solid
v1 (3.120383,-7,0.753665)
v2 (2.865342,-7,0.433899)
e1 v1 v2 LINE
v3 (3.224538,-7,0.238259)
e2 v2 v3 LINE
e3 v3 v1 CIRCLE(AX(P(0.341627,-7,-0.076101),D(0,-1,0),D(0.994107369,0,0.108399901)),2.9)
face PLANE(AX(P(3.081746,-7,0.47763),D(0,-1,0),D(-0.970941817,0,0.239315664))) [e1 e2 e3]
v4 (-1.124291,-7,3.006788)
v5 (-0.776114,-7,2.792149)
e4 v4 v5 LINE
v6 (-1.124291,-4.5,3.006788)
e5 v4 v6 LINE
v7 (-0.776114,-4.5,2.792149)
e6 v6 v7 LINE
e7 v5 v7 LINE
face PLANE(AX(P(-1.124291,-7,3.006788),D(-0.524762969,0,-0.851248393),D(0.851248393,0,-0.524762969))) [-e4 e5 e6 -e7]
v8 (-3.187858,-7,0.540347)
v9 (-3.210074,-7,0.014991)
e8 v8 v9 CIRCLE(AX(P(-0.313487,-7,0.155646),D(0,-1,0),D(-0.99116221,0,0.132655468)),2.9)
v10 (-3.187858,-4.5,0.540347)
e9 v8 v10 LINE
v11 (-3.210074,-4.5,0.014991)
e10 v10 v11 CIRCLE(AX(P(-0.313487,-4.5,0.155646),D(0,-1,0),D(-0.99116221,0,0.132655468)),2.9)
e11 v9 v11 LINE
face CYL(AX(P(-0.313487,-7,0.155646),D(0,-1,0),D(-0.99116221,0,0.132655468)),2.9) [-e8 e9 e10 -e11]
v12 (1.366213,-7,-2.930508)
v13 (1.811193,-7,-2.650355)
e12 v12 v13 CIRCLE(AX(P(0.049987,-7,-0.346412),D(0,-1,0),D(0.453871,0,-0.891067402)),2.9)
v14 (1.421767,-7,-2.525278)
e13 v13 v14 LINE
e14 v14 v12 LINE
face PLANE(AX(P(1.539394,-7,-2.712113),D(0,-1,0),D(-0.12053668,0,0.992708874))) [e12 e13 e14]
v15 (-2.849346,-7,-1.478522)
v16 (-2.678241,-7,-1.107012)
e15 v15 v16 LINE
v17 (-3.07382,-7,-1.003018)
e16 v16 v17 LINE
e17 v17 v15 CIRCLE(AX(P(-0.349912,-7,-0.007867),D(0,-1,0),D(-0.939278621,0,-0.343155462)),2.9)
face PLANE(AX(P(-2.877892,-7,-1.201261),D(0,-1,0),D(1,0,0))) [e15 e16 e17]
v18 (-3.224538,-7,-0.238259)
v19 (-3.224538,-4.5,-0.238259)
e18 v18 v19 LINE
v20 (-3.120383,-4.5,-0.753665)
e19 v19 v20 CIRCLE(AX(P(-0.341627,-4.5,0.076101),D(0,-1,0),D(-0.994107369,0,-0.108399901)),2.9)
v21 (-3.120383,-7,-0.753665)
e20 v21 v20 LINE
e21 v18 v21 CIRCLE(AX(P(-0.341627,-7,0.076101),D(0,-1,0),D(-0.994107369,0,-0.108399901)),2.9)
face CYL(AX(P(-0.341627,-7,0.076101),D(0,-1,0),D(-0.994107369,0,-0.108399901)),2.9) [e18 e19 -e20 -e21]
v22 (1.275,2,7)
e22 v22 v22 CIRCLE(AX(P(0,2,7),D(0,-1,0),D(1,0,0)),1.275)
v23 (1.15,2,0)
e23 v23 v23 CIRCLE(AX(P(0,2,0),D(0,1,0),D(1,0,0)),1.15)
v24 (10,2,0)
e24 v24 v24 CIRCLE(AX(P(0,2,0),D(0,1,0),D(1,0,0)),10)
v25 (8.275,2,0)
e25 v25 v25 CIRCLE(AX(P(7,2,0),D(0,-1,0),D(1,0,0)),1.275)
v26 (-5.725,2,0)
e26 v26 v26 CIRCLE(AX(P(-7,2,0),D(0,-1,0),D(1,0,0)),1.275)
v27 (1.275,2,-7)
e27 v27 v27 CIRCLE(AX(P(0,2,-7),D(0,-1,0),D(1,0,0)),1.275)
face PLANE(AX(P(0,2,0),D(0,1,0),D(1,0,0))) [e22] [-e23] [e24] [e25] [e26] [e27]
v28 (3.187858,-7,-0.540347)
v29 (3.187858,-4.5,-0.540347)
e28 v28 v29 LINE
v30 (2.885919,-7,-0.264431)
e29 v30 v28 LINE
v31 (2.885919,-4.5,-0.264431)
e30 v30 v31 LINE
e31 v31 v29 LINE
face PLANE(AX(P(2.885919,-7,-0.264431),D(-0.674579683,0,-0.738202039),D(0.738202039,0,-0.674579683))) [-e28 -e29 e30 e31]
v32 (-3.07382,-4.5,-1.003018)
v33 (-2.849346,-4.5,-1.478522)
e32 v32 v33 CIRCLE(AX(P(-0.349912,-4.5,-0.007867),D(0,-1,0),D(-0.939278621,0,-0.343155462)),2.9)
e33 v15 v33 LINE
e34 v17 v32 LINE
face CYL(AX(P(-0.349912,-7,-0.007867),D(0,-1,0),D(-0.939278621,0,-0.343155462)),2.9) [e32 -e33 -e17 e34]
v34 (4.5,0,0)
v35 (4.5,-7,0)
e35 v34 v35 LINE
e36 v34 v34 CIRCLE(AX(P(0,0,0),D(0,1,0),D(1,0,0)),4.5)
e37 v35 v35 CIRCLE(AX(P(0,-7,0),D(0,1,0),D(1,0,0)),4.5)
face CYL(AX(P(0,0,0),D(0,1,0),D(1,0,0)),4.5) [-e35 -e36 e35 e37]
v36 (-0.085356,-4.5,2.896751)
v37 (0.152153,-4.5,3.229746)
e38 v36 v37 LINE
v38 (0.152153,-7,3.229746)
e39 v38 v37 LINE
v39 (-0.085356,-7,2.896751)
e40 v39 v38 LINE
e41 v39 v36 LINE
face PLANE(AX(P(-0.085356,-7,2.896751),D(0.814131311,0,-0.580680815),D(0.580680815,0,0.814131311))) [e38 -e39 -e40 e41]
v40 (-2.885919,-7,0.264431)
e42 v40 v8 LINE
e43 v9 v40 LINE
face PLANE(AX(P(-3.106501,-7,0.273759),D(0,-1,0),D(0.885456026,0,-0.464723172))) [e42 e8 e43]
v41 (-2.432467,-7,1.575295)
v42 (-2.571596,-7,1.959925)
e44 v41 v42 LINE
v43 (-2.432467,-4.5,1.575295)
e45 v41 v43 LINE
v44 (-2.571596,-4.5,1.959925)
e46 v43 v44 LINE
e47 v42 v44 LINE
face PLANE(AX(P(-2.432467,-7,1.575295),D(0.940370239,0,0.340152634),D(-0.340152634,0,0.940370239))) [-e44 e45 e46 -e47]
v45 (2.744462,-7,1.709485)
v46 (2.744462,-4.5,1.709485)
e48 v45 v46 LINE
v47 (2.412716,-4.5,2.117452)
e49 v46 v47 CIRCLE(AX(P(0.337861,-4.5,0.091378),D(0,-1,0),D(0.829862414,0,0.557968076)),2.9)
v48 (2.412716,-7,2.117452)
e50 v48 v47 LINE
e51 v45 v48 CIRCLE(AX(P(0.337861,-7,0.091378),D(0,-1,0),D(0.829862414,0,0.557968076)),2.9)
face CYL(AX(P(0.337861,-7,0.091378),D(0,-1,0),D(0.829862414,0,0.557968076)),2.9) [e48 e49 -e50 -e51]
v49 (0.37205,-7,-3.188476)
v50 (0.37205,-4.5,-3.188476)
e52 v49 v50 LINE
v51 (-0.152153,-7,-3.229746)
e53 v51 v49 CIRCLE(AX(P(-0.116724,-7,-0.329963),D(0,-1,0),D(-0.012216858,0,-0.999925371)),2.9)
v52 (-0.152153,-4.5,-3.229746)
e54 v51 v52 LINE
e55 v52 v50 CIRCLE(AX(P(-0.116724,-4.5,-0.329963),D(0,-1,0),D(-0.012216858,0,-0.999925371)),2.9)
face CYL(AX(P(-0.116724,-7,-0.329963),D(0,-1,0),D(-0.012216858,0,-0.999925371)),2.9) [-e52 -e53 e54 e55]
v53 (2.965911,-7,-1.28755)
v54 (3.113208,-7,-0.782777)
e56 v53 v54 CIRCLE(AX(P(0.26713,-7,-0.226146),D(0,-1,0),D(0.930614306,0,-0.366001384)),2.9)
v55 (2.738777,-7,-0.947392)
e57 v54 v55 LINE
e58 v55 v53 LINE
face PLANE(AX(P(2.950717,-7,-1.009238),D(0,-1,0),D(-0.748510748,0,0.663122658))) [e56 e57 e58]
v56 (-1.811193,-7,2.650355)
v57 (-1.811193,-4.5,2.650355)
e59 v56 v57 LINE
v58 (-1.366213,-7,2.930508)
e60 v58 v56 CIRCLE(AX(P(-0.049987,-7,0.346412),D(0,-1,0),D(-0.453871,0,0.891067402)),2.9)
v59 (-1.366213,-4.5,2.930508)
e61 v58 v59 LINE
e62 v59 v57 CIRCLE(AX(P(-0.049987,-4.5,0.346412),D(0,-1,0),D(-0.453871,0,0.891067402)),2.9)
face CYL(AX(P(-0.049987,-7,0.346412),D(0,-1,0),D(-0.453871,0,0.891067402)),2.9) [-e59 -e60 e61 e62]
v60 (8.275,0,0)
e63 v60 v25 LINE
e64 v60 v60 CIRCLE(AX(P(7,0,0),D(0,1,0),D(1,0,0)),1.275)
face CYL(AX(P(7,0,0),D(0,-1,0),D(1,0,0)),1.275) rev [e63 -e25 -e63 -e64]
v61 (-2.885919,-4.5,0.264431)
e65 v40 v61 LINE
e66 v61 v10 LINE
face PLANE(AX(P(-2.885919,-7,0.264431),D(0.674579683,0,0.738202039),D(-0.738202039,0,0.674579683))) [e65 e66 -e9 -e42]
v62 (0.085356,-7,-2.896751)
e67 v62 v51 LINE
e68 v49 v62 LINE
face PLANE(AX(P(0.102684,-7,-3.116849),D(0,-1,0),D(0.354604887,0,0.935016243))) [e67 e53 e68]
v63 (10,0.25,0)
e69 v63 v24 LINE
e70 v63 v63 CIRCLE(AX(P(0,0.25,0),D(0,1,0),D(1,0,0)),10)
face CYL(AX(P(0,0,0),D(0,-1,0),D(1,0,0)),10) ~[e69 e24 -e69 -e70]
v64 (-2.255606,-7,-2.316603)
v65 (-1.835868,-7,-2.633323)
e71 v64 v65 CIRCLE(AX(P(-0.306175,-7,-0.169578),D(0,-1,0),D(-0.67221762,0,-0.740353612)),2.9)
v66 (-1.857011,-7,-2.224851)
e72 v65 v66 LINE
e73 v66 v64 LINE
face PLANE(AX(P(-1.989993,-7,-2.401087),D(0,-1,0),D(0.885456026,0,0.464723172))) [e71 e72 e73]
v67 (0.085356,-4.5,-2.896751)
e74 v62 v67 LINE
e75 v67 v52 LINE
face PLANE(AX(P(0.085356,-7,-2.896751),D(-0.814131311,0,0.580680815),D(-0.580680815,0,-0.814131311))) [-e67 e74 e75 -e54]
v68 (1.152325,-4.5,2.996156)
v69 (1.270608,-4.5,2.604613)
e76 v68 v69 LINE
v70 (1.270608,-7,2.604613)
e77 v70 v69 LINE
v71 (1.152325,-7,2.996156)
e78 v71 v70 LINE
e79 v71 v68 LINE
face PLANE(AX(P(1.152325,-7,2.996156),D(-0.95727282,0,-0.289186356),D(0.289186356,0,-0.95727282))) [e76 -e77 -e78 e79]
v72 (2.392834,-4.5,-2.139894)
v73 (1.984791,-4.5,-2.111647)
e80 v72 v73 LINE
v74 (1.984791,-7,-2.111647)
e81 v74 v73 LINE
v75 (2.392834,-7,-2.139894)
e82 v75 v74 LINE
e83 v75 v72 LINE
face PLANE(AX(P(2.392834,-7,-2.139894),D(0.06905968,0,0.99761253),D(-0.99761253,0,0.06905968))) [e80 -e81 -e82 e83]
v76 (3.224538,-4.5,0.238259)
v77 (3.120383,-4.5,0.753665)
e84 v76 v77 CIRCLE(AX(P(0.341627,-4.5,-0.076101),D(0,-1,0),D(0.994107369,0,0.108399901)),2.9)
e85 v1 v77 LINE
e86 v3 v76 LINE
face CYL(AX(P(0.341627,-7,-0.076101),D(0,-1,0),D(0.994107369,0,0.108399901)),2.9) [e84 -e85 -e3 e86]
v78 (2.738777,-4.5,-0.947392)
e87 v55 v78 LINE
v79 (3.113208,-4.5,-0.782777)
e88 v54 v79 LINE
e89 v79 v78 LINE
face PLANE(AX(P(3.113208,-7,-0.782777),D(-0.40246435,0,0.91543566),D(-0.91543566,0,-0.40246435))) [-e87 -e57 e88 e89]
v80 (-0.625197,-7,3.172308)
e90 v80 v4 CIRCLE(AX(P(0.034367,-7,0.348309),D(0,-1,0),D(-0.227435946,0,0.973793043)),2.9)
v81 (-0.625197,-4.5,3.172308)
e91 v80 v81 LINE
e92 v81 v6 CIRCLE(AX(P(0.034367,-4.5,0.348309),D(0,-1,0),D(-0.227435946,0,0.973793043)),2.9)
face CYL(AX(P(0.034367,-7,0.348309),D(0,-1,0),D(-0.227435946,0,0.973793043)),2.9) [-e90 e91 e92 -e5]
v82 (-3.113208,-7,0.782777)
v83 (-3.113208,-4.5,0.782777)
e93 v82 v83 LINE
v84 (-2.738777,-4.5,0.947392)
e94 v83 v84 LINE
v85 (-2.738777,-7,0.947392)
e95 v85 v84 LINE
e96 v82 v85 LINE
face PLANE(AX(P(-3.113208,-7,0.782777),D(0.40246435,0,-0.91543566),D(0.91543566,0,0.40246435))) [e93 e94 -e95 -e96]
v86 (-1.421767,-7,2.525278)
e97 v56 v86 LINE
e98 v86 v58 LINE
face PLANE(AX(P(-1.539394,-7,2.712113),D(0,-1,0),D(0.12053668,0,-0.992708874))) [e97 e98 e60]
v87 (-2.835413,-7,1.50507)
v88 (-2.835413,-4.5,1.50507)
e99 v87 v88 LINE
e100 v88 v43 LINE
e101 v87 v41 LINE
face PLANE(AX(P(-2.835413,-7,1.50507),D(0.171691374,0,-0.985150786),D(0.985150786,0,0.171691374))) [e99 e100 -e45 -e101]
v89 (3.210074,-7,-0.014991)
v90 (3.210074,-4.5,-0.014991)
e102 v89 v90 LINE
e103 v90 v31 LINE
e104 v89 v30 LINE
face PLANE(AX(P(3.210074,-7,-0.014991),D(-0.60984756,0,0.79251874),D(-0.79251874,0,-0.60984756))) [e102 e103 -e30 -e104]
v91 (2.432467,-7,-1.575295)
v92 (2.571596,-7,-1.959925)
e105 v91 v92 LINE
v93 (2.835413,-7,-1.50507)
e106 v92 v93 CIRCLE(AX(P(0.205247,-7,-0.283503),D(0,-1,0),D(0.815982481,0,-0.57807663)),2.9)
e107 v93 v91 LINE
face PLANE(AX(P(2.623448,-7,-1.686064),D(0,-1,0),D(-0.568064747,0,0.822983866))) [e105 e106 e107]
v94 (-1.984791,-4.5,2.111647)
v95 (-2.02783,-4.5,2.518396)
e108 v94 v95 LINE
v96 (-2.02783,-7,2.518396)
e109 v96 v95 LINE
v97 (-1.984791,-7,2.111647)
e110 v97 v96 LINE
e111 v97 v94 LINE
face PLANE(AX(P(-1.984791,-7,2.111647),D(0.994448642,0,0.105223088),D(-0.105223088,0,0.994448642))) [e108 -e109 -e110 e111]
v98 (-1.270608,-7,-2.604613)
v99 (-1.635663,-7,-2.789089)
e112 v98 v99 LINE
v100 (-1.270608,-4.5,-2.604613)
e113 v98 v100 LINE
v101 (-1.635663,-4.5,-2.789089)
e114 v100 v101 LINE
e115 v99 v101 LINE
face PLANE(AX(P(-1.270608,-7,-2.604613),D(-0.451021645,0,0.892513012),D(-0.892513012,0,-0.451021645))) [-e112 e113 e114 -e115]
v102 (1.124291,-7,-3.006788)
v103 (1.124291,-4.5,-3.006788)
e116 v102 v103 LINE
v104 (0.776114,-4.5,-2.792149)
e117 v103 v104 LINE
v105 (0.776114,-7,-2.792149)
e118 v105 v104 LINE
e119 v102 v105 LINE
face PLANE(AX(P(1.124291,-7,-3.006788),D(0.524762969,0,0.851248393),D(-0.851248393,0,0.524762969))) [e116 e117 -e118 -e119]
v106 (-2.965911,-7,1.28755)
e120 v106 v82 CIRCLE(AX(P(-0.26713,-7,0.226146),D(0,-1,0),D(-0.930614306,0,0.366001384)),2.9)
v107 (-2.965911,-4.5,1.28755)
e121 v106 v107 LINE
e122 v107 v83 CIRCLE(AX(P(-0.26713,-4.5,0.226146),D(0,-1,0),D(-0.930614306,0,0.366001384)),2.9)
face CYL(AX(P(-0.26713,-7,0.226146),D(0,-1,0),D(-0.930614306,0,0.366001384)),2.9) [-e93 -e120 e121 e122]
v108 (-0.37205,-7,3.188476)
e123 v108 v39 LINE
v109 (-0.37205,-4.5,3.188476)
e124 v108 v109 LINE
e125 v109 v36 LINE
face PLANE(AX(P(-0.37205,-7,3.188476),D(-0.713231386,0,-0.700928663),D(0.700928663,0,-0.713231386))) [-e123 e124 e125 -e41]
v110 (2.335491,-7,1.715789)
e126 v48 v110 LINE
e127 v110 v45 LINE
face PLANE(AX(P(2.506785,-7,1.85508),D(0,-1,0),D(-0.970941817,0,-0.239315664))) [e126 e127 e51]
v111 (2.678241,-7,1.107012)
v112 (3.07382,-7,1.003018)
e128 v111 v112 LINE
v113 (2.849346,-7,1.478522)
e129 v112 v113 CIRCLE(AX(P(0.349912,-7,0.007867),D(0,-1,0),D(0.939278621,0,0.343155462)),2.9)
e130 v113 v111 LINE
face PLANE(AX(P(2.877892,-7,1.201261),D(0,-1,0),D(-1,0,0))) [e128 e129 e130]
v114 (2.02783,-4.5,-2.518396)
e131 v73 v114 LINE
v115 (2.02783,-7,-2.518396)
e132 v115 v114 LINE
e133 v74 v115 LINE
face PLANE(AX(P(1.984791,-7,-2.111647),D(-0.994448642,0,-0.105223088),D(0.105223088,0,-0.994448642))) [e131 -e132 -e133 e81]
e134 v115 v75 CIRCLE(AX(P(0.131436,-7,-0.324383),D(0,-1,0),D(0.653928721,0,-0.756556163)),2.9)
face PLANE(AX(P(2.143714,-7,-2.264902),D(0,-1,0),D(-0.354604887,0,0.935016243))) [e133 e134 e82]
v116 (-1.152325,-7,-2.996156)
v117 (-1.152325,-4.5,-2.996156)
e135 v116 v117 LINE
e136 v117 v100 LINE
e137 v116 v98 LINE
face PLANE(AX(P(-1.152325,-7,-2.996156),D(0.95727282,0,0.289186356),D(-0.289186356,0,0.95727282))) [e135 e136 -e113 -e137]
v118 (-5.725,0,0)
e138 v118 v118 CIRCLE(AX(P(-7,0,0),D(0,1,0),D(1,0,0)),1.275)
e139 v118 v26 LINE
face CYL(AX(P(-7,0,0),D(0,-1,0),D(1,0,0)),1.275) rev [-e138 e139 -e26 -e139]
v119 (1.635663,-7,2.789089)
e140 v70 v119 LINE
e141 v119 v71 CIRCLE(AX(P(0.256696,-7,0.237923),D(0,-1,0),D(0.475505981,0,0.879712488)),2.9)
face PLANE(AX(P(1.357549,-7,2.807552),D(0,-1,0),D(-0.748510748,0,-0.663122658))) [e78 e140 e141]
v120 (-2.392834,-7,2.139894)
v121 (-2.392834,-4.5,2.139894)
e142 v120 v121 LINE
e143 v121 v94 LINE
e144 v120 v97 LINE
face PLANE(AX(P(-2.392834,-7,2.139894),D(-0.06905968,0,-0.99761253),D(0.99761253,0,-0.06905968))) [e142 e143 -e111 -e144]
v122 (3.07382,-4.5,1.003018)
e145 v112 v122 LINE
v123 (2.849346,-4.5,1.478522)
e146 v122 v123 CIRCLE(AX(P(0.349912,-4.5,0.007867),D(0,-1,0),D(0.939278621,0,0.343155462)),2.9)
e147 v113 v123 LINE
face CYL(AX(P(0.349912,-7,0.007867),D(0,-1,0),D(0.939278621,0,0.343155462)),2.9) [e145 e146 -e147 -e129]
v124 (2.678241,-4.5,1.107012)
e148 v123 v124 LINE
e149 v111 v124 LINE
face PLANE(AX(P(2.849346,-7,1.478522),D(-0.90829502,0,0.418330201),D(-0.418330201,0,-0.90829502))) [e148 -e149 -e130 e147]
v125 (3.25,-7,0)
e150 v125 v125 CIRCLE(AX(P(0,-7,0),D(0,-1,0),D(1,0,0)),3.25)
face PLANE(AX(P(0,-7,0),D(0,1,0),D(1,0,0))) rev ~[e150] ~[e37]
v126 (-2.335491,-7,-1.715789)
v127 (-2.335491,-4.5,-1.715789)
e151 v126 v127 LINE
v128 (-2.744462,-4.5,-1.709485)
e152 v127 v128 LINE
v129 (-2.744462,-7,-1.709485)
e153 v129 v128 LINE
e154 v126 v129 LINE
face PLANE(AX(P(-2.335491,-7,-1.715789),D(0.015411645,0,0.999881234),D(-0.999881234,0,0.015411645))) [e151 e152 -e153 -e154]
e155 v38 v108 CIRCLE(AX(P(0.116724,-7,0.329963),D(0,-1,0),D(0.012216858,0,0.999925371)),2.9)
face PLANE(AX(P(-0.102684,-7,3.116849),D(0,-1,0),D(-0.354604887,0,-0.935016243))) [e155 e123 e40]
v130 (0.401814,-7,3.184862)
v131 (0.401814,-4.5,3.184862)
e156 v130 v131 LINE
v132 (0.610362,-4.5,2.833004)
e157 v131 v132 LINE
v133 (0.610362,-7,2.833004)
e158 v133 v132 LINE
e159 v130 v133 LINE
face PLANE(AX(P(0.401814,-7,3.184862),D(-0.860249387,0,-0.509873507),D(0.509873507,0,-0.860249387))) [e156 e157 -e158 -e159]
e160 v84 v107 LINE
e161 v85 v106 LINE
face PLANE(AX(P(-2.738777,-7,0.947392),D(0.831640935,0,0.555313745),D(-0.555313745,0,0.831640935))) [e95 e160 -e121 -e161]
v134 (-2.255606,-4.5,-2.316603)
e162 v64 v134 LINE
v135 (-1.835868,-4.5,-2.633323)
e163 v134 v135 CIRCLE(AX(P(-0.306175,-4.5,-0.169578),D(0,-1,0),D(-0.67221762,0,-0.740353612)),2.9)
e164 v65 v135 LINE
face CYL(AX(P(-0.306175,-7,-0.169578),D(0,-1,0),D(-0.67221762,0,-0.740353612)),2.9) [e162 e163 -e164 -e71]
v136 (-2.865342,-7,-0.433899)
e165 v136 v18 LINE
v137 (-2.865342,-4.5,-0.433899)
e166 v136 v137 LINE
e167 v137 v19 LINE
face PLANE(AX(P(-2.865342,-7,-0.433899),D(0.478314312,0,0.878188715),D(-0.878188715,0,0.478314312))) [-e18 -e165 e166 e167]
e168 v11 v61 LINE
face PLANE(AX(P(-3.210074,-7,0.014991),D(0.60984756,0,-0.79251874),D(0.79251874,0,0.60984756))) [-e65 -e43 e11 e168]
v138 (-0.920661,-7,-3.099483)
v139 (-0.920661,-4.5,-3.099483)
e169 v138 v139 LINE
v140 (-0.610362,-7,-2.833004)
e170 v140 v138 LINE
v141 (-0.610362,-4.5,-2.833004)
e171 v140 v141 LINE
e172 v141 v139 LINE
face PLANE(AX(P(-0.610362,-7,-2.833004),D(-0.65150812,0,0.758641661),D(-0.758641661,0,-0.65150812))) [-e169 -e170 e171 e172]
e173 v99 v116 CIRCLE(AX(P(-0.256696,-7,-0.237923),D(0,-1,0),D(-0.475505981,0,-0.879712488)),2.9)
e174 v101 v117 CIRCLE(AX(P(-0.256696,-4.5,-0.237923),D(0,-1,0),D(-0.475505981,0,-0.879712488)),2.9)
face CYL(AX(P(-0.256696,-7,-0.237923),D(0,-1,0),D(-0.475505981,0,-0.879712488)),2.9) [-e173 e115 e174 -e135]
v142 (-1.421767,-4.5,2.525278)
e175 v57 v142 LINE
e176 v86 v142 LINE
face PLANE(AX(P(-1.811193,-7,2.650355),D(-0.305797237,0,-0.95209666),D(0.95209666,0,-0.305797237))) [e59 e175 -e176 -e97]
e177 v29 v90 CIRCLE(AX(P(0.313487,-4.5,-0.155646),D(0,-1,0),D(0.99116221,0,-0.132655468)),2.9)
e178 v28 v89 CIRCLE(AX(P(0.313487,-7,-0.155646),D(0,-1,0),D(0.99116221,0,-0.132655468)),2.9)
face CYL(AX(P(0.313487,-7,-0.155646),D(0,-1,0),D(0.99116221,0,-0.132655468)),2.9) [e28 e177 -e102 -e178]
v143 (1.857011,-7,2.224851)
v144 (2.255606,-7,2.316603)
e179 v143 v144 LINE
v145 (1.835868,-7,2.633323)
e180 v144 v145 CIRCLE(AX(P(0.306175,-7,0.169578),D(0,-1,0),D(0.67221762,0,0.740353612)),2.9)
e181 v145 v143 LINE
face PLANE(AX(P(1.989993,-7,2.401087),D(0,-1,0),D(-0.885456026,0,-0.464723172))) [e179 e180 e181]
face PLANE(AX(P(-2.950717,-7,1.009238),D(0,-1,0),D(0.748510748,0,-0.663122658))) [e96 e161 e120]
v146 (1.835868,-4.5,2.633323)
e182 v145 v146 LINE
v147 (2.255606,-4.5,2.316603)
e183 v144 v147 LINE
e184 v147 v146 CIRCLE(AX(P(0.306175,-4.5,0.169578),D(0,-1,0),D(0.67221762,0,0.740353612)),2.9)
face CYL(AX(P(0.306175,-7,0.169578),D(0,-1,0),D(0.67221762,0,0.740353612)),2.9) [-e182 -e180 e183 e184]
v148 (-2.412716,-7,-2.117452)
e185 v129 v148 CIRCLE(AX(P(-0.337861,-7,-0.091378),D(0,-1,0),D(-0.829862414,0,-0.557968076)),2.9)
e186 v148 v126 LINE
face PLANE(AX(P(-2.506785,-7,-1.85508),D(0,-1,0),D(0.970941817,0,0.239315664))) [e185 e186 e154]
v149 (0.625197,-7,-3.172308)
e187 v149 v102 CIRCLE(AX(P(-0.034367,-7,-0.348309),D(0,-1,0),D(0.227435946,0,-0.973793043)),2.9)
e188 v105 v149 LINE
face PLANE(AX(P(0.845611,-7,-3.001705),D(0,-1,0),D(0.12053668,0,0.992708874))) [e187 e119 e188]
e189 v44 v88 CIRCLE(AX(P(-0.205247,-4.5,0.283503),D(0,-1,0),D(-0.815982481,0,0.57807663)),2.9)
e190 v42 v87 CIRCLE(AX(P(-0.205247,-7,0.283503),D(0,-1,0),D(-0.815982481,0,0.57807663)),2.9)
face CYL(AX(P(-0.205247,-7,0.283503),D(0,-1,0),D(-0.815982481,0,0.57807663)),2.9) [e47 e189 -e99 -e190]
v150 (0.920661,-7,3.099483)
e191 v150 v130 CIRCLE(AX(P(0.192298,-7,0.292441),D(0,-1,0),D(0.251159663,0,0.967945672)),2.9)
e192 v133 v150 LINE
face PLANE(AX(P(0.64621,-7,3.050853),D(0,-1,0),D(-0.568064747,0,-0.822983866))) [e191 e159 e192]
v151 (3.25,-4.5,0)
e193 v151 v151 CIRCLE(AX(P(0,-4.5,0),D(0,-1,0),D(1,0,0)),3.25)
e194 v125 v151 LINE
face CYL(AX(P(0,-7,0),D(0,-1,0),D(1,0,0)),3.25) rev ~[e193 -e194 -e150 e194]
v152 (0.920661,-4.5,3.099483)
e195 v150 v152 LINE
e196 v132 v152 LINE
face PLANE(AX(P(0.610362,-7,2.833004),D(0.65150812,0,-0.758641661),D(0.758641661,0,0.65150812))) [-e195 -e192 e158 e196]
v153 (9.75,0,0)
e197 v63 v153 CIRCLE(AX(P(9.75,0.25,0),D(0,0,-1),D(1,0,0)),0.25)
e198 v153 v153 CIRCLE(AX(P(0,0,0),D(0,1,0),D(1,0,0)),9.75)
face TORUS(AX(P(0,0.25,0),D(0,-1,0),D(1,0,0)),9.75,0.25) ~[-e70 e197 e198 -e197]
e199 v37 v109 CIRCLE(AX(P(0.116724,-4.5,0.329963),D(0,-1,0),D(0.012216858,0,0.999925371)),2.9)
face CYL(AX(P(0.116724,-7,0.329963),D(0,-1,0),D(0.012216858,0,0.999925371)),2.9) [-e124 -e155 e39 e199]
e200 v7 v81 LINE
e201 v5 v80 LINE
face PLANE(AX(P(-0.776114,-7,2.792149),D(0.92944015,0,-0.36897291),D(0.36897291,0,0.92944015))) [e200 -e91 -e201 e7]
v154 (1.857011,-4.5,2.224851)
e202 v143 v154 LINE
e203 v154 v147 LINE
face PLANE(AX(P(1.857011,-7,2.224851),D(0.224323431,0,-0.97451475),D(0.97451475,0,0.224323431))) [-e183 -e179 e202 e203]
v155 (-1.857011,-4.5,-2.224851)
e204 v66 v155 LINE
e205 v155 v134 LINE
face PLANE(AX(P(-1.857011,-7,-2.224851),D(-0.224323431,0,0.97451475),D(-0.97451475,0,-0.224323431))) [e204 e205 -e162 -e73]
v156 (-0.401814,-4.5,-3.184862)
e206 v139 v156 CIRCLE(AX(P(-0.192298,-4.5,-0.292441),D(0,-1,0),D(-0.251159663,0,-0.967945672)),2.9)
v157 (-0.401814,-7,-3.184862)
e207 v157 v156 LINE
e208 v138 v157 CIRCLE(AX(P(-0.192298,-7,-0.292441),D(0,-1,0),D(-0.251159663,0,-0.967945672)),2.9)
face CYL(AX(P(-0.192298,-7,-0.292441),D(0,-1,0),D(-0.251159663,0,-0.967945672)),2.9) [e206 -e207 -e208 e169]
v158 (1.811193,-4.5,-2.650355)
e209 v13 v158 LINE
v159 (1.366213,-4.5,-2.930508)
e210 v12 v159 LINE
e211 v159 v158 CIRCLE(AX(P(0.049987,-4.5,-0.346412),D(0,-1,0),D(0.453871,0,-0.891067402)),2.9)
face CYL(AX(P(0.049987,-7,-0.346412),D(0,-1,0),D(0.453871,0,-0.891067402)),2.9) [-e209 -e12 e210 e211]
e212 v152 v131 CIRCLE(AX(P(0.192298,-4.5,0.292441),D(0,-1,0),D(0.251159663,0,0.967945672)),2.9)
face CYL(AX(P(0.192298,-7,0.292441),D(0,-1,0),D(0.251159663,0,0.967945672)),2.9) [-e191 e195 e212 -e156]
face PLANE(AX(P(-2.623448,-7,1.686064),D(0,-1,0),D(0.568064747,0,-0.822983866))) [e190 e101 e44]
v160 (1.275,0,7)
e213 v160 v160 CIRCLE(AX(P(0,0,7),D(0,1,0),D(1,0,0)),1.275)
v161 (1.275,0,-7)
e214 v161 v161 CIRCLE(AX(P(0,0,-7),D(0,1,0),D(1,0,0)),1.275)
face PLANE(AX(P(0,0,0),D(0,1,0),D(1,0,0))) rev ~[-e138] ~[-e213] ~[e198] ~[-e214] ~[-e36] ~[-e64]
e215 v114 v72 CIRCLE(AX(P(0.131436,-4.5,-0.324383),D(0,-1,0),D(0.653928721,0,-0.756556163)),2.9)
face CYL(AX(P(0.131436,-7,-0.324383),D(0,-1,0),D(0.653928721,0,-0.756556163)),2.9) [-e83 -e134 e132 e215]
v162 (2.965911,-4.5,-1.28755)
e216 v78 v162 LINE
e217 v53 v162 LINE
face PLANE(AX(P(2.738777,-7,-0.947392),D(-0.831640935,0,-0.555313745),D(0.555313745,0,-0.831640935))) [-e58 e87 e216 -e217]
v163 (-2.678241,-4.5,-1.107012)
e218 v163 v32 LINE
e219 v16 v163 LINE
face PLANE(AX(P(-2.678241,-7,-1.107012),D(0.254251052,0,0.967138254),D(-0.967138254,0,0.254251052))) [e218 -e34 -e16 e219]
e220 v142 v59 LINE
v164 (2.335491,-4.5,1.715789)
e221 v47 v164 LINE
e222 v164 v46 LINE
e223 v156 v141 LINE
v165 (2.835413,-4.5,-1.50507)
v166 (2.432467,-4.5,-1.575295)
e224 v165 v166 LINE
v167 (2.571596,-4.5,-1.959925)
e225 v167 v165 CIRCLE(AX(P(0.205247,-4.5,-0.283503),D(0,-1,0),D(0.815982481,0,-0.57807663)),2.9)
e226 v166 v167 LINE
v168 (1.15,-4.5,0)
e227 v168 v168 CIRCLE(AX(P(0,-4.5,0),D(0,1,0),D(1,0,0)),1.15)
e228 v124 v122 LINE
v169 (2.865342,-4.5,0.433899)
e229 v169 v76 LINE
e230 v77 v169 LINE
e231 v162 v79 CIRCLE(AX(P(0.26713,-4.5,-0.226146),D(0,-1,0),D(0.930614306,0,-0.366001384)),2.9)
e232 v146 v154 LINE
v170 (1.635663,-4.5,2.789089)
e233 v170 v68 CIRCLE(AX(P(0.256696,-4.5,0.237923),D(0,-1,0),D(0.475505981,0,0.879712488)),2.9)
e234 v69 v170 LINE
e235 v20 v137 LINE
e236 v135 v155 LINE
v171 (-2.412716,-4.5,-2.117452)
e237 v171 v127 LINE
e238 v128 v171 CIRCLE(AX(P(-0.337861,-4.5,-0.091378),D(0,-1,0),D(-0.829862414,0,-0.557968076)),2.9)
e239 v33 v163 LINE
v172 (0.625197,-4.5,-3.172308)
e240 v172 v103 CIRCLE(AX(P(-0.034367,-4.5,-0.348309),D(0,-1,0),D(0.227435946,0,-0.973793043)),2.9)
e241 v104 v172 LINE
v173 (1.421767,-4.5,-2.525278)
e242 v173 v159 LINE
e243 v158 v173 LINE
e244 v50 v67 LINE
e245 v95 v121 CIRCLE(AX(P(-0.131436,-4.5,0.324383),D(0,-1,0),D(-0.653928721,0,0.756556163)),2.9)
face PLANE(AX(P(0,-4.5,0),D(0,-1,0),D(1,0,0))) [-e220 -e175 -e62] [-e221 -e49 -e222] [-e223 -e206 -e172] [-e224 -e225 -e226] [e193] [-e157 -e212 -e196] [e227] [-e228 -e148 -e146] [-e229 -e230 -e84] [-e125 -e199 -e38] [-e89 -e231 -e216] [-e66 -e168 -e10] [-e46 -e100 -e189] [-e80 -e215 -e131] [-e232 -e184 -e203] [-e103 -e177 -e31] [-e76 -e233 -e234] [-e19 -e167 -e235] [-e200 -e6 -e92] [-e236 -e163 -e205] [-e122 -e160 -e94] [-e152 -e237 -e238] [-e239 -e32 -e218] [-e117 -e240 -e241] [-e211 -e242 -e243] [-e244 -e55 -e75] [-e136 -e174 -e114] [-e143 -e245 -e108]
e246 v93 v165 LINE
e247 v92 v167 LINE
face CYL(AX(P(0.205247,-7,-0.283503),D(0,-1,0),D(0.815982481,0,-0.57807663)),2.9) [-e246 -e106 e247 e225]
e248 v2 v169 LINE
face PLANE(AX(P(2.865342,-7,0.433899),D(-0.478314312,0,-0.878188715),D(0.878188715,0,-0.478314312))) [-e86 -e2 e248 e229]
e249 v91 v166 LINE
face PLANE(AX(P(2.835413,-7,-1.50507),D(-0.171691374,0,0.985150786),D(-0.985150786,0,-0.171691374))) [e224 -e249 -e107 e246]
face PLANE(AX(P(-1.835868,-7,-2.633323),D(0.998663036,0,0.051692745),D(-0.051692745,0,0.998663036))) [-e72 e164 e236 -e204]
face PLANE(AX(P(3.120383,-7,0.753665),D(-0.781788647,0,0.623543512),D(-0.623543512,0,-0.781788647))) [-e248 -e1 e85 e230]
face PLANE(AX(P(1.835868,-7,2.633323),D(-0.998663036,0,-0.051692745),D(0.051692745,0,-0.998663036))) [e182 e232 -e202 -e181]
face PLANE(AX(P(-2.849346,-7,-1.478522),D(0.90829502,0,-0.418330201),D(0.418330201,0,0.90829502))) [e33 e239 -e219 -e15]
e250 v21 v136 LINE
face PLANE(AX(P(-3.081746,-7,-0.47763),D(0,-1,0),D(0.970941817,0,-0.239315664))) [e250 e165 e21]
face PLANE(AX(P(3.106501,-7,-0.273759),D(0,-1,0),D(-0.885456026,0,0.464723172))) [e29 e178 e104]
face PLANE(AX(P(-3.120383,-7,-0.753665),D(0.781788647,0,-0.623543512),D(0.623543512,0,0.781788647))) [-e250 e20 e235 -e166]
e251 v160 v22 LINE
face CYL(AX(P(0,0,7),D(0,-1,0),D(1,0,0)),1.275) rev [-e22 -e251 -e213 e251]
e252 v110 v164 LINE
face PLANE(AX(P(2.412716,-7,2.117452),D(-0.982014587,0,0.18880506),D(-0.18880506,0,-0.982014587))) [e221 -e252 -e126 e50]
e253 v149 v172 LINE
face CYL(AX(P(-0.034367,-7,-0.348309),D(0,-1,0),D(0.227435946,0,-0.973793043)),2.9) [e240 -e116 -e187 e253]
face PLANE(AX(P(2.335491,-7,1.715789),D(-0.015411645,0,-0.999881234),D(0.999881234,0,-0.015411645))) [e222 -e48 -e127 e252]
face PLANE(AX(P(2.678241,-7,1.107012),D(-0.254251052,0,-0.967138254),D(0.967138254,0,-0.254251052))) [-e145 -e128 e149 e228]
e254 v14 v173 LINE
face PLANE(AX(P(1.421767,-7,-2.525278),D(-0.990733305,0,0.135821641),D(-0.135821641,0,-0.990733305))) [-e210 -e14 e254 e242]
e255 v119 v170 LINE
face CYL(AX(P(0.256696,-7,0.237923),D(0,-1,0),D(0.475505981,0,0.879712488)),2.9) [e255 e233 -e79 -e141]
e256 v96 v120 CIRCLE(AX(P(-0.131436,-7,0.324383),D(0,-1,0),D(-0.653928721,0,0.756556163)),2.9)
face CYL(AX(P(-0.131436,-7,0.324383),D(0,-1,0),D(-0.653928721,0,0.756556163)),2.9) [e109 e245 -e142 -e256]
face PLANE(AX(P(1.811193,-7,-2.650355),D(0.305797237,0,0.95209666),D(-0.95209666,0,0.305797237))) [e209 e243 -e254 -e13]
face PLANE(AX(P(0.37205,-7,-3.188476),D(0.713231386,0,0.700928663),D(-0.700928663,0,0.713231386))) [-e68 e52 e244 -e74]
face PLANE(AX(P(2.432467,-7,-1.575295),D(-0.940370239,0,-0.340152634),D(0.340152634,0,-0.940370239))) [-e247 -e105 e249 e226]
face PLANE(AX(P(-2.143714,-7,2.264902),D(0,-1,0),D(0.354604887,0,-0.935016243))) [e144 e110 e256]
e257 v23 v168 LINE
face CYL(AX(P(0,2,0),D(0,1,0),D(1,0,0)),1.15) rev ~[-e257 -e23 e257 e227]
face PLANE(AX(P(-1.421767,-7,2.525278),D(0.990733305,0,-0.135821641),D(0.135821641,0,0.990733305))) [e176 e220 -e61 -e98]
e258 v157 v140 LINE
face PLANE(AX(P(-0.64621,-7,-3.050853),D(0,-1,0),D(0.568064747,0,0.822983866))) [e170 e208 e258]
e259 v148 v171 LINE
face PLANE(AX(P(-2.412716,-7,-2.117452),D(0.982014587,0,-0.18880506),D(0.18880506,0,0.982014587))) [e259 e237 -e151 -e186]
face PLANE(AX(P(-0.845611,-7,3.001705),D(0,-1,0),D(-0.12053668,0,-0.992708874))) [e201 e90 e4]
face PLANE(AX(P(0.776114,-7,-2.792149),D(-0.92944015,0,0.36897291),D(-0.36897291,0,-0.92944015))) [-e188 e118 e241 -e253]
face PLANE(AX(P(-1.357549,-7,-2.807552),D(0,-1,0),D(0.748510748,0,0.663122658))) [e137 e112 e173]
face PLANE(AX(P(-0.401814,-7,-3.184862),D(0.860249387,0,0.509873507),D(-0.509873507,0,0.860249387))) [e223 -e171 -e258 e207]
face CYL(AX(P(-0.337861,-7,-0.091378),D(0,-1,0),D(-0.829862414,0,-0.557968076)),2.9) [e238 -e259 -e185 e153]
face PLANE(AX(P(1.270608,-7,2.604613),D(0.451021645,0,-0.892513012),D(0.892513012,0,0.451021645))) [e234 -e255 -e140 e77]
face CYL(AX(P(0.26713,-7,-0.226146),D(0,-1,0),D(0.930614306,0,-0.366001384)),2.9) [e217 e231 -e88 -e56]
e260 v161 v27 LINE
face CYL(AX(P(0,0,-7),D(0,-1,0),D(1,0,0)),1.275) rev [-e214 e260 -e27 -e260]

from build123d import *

# Parameters (mm, degrees)
SKETCH1_R           = 10
BOSS_EXTRUDE1_DEPTH = 2
SKETCH2_R           = 4.5
BOSS_EXTRUDE2_DEPTH = 7
SKETCH3_R           = 1.275
CUT_EXTRUDE1_DEPTH  = 3
FILLET1_R           = 0.25
SKETCH6_R           = 1.15
CUT_EXTRUDE2_DEPTH  = 10
SKETCH7_R           = 3.25
CUT_EXTRUDE3_DEPTH  = 2.5
BOSS_EXTRUDE4_DEPTH = 2.5
CIRPATTERN1_COUNT   = 26


with BuildPart() as part:
    # Sketch1 → Boss-Extrude1 (new body)
    with BuildSketch(Plane(origin=(0, 0, 0), x_dir=(1, 0, 0), z_dir=(0, 1, 0))):
        Circle(SKETCH1_R)
    extrude(amount=BOSS_EXTRUDE1_DEPTH)

    # Sketch2 → Boss-Extrude2 (add)
    with BuildSketch(Plane(origin=(0, 0, 0), x_dir=(1, 0, 0), z_dir=(0, 1, 0))):
        Circle(SKETCH2_R)
    extrude(amount=-BOSS_EXTRUDE2_DEPTH)

    # Sketch3 → Cut-Extrude1 (cut, through all)
    with BuildSketch(Plane(origin=(0, 0, 0), x_dir=(1, 0, 0), z_dir=(0, 1, 0))):
        with Locations((0, 7)):
            Circle(SKETCH3_R)
        with Locations((-7, 0)):
            Circle(SKETCH3_R)
        with Locations((0, -7)):
            Circle(SKETCH3_R)
        with Locations((7, 0)):
            Circle(SKETCH3_R)
    extrude(amount=CUT_EXTRUDE1_DEPTH, mode=Mode.SUBTRACT)

    # Fillet1
    fillet1_edges = [part.edges().sort_by_distance(p)[0] for p in [
        (-10, 0, 0),
    ]]
    fillet(fillet1_edges, radius=FILLET1_R)

    # Sketch6 → Cut-Extrude2 (cut, through all)
    with BuildSketch(Plane(origin=(0, 2, 0), x_dir=(1, 0, 0), z_dir=(0, 1, 0))):
        Circle(SKETCH6_R)
    extrude(amount=-CUT_EXTRUDE2_DEPTH, mode=Mode.SUBTRACT)

    # Sketch7 → Cut-Extrude3 (cut)
    with BuildSketch(Plane.XZ.offset(7)):
        Circle(SKETCH7_R)
    extrude(amount=-CUT_EXTRUDE3_DEPTH, mode=Mode.SUBTRACT)

    # Sketch8 → Boss-Extrude4 (add)
    with BuildSketch(Plane.XZ.offset(7)):
        with BuildLine():
            Line((-2.67824125, -1.107011583), (-3.073819571, -1.003017967))
            ThreePointArc((-3.073819571, -1.003017967), (-2.972382473, -1.245868077), (-2.849346423, -1.478521878))
            Line((-2.849346423, -1.478521878), (-2.67824125, -1.107011583))
        make_face()
    boss_extrude4 = extrude(amount=-BOSS_EXTRUDE4_DEPTH)

    # CirPattern1: Boss-Extrude4 ×26 about axis
    cirpattern1_axis = Axis((0, 0, 0), (0, 1, 0))
    for i in range(1, CIRPATTERN1_COUNT):
        add(boss_extrude4.rotate(cirpattern1_axis, i * 360 / CIRPATTERN1_COUNT))


solid = part.part
